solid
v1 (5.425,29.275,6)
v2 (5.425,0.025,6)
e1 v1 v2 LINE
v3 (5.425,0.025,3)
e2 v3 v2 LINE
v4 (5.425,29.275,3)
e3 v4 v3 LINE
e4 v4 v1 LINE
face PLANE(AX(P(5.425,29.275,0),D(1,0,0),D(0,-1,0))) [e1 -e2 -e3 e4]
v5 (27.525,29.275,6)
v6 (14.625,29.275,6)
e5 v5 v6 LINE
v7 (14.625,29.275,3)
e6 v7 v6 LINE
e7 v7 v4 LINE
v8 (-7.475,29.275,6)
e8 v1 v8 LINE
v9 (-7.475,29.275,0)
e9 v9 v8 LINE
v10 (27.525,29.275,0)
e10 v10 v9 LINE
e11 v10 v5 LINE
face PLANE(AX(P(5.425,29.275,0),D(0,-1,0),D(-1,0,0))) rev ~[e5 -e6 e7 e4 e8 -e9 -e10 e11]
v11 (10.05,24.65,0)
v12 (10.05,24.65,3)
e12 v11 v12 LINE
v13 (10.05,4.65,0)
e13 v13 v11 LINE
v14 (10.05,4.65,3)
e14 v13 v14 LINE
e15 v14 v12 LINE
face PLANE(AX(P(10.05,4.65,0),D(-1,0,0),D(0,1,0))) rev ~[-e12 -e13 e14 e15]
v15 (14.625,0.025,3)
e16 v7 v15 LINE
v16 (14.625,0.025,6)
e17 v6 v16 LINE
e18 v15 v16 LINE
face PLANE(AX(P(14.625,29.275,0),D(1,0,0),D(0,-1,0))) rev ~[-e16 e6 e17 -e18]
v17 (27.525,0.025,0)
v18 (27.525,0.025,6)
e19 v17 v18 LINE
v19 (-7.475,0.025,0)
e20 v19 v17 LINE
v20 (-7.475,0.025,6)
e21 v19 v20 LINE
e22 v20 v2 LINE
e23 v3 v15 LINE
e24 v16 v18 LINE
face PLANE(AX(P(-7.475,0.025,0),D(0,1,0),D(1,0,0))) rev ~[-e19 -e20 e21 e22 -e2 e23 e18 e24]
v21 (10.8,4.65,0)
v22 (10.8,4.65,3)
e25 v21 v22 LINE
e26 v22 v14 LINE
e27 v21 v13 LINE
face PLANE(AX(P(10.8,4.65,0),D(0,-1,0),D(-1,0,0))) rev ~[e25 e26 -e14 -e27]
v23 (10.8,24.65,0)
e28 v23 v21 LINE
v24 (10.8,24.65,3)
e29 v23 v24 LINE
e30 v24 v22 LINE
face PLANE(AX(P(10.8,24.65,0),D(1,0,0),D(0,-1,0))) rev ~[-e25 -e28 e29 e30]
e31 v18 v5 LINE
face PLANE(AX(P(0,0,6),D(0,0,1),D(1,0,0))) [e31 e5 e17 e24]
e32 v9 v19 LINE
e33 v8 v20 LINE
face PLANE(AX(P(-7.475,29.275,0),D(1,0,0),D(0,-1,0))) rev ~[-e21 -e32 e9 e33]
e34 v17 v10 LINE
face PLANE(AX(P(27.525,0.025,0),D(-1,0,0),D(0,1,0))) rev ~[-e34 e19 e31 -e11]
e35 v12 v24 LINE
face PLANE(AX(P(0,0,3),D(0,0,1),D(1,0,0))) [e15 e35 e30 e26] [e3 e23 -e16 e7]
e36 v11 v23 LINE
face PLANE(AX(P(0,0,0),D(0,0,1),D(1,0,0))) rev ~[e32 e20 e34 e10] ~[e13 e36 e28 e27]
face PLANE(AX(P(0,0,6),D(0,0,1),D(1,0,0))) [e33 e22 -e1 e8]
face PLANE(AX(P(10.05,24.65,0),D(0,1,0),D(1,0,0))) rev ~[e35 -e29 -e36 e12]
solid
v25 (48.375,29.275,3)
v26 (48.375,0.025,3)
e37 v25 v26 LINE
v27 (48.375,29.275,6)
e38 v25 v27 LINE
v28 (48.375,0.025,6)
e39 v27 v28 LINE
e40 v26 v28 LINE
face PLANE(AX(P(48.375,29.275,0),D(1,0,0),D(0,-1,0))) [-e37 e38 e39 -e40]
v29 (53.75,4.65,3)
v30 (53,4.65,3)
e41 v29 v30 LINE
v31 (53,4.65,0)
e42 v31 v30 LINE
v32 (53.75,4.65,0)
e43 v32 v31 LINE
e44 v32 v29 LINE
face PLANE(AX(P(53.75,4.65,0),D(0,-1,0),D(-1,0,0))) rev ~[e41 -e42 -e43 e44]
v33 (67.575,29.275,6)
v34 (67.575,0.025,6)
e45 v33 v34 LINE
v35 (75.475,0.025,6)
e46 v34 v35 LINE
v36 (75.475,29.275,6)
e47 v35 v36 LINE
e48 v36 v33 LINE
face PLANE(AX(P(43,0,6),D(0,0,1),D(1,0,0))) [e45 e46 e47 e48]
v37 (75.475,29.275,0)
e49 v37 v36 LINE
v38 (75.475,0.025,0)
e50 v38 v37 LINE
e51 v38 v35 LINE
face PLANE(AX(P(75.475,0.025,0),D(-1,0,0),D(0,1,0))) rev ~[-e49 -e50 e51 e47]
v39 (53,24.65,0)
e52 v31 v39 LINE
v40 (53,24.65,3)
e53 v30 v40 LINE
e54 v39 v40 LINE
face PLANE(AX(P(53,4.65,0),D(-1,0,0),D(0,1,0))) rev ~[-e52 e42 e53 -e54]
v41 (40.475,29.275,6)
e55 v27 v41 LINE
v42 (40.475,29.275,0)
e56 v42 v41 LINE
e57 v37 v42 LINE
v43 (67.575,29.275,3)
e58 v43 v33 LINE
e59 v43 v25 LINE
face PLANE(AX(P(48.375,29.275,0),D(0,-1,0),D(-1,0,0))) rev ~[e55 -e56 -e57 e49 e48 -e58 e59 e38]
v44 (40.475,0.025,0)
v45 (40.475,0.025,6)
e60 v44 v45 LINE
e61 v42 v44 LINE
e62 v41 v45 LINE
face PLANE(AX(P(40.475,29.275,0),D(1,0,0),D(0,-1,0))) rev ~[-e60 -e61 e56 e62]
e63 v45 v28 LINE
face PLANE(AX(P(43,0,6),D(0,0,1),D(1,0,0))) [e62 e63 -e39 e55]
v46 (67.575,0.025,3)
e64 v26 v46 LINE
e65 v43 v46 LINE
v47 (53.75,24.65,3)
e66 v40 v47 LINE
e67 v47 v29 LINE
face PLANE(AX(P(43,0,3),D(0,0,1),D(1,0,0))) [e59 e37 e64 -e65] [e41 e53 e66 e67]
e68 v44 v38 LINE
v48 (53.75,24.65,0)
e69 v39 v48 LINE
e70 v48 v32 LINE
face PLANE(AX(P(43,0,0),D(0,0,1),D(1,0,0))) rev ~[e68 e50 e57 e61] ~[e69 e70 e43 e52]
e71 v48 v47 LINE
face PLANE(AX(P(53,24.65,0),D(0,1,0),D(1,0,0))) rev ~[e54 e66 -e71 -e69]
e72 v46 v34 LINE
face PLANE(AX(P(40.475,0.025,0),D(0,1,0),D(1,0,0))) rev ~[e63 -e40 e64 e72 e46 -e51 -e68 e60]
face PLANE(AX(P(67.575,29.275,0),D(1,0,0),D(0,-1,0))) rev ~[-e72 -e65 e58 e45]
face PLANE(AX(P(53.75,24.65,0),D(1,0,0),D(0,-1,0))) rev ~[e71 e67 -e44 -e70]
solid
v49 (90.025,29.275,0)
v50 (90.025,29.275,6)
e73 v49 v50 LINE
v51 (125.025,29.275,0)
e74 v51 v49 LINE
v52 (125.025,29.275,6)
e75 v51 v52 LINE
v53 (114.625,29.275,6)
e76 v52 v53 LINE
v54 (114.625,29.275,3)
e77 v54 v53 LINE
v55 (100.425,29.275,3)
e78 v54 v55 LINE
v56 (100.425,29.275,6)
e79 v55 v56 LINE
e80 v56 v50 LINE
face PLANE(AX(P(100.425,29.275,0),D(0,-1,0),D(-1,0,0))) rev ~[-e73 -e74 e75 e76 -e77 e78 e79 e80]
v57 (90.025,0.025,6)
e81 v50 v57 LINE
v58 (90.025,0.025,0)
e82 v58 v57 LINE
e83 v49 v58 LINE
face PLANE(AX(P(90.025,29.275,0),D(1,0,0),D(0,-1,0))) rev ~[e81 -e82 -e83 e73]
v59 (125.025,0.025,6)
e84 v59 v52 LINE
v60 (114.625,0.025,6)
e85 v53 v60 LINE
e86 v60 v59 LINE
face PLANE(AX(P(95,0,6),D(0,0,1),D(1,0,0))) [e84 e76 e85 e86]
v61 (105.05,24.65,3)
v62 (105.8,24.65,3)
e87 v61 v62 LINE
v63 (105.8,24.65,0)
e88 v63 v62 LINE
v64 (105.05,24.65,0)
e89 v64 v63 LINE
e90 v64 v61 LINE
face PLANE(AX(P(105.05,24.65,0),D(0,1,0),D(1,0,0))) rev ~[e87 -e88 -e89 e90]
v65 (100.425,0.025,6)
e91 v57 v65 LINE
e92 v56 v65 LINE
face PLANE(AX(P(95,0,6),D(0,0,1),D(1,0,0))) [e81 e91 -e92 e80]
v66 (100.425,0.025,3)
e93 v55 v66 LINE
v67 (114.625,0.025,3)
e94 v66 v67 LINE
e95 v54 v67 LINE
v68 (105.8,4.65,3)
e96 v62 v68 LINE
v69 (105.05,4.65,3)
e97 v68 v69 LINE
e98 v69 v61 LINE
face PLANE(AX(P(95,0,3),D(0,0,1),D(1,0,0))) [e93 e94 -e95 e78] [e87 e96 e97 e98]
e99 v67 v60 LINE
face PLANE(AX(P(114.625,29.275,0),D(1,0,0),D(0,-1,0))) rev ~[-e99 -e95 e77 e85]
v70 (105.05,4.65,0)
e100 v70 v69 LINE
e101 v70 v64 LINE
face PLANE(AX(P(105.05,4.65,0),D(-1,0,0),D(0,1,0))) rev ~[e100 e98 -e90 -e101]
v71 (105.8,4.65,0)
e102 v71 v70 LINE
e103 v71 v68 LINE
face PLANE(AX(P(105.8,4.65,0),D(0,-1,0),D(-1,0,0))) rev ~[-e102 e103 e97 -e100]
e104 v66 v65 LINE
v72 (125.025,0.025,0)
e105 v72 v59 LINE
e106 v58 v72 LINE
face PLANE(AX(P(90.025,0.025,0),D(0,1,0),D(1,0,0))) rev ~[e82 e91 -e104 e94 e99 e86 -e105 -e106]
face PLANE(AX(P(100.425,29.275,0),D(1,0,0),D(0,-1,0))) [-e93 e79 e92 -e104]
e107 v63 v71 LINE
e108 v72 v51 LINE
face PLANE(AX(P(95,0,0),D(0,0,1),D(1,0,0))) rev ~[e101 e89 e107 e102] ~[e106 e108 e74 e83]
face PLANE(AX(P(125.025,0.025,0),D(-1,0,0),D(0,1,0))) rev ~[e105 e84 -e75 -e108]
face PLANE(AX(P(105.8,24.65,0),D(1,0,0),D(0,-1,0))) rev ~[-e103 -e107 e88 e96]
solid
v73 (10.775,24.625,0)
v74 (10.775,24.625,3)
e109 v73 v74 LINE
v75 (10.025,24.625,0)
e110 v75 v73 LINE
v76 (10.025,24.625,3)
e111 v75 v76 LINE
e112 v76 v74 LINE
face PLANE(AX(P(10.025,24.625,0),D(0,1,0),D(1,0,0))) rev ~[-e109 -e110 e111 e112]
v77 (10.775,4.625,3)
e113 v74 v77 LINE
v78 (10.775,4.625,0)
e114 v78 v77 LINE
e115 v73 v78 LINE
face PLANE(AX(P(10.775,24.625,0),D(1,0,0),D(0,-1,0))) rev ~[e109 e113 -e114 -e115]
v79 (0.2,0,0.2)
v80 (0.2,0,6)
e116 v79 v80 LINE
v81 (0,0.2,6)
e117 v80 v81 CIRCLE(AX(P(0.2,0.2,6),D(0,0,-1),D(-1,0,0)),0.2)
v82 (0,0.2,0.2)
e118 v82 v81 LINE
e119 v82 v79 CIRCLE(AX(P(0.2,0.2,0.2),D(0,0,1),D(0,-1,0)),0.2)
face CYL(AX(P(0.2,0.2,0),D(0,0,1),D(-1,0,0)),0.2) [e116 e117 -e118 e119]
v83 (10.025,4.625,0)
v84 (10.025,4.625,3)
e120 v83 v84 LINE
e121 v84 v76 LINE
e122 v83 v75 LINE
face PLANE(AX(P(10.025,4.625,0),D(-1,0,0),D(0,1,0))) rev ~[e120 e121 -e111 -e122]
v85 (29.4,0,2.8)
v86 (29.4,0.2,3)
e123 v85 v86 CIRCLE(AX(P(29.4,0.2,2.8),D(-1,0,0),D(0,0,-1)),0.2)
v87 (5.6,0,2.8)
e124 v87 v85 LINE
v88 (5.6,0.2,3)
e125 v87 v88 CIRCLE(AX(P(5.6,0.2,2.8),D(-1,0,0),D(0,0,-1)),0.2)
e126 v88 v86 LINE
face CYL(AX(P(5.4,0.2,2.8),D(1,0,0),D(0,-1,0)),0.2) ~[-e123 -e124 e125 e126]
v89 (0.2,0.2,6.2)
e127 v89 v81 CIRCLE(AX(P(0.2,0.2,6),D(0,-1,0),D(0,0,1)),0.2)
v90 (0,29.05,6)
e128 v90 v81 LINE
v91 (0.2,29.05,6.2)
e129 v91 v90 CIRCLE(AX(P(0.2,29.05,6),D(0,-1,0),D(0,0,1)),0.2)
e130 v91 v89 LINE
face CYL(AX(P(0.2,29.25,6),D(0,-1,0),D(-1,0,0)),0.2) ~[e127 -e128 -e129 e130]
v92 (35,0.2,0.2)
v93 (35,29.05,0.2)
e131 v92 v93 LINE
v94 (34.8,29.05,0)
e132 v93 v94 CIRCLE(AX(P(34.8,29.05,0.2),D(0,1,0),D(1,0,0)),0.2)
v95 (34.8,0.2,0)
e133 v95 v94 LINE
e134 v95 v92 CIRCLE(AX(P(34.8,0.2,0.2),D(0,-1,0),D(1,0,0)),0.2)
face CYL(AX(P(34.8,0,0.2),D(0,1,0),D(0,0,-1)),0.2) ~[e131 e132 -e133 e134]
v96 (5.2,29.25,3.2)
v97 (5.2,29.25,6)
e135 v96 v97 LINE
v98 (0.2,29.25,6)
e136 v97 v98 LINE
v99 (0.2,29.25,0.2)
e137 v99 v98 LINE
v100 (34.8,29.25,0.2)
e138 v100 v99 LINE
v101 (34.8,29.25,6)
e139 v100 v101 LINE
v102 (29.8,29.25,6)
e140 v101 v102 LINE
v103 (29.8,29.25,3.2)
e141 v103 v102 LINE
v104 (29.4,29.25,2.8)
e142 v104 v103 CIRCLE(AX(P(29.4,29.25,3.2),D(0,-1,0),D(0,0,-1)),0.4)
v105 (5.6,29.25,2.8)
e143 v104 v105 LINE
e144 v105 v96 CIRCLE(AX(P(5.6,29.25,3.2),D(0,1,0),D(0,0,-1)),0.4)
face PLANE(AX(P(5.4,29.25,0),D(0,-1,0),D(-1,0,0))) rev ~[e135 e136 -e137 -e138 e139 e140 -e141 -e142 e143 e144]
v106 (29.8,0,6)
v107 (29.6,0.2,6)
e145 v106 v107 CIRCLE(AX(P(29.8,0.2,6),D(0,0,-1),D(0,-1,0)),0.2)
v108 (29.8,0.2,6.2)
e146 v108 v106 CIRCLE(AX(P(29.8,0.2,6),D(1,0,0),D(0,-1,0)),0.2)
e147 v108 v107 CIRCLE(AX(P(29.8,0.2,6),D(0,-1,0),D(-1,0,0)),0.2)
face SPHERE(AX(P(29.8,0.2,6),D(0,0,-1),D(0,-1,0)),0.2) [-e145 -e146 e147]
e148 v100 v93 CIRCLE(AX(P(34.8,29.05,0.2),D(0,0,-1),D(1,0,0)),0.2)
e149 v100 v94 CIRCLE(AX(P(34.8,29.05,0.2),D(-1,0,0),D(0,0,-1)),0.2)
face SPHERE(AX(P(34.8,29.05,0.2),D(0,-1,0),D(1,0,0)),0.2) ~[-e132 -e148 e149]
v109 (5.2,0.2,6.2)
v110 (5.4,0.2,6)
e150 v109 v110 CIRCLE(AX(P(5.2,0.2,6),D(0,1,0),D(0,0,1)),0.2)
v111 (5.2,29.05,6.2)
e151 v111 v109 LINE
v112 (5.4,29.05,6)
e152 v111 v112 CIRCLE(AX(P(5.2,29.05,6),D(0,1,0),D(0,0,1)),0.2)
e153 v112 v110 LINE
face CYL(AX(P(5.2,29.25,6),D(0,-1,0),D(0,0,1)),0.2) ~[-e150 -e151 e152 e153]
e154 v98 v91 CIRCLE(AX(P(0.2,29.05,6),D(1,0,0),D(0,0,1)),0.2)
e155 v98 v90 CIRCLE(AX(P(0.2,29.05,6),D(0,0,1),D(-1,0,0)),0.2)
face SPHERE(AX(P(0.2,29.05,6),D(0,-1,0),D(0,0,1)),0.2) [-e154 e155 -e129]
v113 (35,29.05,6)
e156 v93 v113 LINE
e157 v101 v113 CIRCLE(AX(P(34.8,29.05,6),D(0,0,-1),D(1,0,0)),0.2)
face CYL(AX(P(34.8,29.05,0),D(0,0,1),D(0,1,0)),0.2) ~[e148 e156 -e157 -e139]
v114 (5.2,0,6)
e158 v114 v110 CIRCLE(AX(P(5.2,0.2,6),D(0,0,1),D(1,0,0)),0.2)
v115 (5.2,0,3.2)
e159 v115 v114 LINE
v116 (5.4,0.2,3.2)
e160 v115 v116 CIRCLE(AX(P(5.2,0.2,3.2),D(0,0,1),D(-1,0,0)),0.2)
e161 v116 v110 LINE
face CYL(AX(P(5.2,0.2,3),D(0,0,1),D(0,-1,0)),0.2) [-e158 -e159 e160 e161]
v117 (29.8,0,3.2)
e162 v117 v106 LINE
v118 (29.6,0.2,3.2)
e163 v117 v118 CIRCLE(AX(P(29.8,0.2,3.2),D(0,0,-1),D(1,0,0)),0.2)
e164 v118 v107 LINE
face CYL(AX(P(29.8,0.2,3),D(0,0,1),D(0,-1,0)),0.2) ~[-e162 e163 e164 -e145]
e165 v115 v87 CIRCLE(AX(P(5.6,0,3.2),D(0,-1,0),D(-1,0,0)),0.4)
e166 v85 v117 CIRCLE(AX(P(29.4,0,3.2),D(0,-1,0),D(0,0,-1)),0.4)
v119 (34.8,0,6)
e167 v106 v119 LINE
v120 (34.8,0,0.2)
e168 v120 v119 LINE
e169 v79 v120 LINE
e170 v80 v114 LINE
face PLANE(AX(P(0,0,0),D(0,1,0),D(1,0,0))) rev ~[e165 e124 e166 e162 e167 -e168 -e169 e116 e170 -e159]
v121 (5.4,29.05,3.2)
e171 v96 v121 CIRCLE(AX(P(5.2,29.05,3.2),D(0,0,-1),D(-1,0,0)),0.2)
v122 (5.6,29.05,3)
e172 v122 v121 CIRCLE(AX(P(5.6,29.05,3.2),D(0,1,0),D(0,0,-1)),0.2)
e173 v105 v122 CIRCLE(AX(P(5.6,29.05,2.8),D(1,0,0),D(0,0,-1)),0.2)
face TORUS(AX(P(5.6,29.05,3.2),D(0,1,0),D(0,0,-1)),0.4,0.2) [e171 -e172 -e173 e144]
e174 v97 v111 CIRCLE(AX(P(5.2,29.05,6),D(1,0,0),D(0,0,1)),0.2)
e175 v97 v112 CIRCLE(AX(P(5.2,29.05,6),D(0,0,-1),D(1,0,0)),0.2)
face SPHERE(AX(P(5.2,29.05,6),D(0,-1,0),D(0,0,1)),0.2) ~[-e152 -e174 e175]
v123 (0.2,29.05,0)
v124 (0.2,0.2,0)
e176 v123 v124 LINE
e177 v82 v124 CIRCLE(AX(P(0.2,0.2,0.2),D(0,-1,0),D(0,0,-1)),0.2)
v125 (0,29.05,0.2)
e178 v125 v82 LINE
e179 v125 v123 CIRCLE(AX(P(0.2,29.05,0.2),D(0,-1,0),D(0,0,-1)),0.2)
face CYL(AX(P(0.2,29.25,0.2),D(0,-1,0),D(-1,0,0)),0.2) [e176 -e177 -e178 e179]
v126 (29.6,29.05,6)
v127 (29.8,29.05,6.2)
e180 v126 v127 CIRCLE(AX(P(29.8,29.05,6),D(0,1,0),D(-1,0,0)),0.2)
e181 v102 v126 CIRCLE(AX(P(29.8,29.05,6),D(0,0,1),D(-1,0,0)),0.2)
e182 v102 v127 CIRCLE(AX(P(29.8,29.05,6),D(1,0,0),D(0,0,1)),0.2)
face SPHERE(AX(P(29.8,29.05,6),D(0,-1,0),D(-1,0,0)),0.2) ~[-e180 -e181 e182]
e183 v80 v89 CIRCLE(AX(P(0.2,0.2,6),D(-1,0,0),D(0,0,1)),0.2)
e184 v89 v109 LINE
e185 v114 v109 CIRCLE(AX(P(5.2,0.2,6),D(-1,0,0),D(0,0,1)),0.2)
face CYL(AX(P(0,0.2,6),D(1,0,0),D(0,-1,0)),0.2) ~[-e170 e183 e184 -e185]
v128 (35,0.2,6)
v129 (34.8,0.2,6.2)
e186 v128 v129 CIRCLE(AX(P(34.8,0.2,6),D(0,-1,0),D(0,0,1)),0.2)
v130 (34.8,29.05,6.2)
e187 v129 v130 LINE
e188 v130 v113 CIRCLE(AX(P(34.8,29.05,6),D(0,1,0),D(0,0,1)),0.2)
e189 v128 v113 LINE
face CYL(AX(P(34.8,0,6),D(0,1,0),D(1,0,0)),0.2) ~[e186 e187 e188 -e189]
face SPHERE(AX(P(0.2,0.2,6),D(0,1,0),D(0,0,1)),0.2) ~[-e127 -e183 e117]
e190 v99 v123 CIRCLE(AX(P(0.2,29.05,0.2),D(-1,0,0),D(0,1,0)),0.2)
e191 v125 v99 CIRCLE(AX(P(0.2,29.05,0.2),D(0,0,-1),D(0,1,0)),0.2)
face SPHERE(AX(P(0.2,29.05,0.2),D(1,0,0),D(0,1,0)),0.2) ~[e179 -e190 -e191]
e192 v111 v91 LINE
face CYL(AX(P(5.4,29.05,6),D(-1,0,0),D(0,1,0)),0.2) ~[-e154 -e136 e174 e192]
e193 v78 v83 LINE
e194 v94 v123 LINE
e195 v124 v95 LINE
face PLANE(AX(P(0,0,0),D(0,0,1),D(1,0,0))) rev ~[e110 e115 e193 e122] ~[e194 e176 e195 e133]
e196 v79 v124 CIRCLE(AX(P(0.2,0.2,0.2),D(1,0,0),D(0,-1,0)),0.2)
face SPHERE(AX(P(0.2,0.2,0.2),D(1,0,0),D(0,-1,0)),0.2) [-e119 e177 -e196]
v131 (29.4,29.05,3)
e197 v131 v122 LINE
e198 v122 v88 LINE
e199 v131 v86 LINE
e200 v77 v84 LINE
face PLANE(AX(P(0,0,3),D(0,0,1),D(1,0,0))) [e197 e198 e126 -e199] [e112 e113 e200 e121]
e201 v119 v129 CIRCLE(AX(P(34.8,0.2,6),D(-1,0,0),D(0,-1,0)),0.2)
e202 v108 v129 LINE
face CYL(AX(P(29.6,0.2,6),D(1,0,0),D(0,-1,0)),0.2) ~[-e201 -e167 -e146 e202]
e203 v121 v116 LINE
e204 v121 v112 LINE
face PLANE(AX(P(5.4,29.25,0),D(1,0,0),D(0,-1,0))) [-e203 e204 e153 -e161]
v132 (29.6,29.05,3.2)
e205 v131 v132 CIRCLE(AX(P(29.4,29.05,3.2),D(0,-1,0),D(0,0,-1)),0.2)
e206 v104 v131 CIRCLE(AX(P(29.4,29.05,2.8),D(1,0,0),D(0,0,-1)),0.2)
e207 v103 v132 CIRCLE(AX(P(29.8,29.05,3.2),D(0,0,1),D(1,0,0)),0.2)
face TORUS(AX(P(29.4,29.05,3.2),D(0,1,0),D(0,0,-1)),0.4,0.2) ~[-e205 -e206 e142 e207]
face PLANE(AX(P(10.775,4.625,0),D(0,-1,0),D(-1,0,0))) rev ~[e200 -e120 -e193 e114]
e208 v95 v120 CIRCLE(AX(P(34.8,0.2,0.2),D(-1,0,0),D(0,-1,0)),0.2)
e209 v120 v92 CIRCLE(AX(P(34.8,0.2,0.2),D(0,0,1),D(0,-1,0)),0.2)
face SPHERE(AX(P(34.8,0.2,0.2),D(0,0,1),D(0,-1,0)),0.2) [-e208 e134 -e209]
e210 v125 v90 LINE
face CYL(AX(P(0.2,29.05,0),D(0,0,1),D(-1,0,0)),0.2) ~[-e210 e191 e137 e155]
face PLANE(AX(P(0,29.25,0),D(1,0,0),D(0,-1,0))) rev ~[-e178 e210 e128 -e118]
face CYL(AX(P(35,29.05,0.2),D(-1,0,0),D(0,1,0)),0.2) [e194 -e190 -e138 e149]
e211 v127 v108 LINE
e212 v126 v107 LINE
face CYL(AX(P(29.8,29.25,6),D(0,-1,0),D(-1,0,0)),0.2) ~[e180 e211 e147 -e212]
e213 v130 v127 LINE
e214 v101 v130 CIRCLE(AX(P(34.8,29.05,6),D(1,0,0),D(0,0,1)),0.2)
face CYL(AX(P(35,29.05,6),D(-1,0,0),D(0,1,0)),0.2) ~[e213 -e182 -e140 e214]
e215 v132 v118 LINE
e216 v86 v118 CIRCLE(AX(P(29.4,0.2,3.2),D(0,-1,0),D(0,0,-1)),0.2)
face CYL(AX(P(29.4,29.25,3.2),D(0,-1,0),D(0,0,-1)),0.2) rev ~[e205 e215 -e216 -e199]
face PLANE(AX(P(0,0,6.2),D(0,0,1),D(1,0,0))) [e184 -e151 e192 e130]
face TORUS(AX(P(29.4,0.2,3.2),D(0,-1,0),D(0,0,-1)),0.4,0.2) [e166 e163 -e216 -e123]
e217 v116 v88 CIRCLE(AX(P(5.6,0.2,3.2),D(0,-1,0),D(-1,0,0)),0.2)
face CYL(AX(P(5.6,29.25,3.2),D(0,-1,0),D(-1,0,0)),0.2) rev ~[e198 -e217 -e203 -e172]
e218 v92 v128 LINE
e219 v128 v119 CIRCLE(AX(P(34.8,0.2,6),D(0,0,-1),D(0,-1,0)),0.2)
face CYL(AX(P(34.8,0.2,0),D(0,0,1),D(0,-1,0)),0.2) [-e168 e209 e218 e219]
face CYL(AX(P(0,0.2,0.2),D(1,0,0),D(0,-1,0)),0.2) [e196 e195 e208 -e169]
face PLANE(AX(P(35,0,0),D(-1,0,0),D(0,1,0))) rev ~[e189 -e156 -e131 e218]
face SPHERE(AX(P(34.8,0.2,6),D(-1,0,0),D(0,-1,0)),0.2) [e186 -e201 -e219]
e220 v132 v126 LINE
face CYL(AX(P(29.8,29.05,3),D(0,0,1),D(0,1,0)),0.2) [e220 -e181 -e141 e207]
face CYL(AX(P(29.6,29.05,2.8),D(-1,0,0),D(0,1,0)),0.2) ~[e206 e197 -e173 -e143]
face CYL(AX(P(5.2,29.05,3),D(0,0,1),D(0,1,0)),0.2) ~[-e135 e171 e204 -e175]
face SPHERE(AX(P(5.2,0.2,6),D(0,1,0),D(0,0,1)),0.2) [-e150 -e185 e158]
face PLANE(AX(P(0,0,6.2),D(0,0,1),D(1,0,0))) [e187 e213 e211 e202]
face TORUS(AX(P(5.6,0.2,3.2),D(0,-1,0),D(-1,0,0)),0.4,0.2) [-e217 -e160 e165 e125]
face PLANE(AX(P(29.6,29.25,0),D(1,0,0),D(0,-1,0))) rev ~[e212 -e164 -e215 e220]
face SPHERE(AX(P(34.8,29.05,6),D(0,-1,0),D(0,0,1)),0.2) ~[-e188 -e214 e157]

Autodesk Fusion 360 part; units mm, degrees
sketch "24mm_guide" plane through (0, 0, 0) normal (0, 0, 1) x (1, 0, 0)
  line L0 (0, 0) -> (35, 0)
  line L1 (35, 0) -> (35, 29.25)
  line L2 (35, 29.25) -> (0, 29.25)
  line L3 (0, 29.25) -> (0, 0)
  line L4 (5.4, 29.25) -> (5.4, 0)
  line L5 (29.6, 29.25) -> (29.6, 0)
  line L6 (10.025, 24.625) -> (10.775, 24.625)
  line L7 (10.775, 24.625) -> (10.775, 4.625)
  line L8 (10.775, 4.625) -> (10.025, 4.625)
  line L9 (10.025, 4.625) -> (10.025, 24.625)
  dimension "d1" = 24.2
  dimension "d11" = 0.75
  dimension "d12" = 20
  dimension "d13" = 4.625
  dimension "d15" = 4.625
  dimension "d22" = 4.625
  dimension "d32" = 35
  dimension "d34" = 5.4
  dimension "d35" = 5.4
extrude "Extrude1" add sketch "24mm_guide" along normal blind 6.2 contours L0 L2 L3 L4 | L0 L1 L2 L5 makes body 1 at (0, 9.75, 4.1333) makes body 2 at (29.6, 9.75, 4.1333)
extrude "Extrude2" add sketch "24mm_guide" along normal blind 3 contours L0 L2 L4 L5 bodies 1 2
fillet "Fillet1" radius 0.2 24 edges at (5.4, 14.625, 6.2) (0, 14.625, 6.2) (2.7, 0, 6.2) (2.7, 29.25, 6.2) (5.4, 14.625, 3) (5.4, 0, 4.6) (17.5, 0, 3) (29.6, 0, 4.6) (32.3, 0, 6.2) (35, 0, 3.1) (17.5, 0, 0) (0, 0, 3.1) (17.5, 29.25, 3) (5.4, 29.25, 4.6) (35, 14.625, 6.2) (29.6, 14.625, 6.2) (35, 14.625, 0) (29.6, 29.25, 4.6) (32.3, 29.25, 6.2) (35, 29.25, 3.1) (17.5, 29.25, 0) (0, 29.25, 3.1) (29.6, 14.625, 3) (0, 14.625, 0) on bodies 1
copy_body "Body->Comp1" bodies 1 removing the originals makes body 3 in component "24mm_guide"
sketch "19mm_guide" plane through (0, 0, 0) normal (0, 0, 1) x (1, 0, 0)
  line L0 (-2.525, 0.025) -> (32.475, 0.025)
  line L1 (24.575, 29.275) -> (24.575, 0)
  line L2 (32.475, 0.025) -> (32.475, 29.275)
  line L3 (-2.525, 29.275) -> (-2.525, 0.025)
  line L4 (10, 4.65) -> (10, 24.65)
  line L5 (32.475, 29.275) -> (-2.525, 29.275)
  line L6 (10, 24.65) -> (10.75, 24.65)
  line L7 (5.375, 29.275) -> (5.375, 0)
  line L8 (10.75, 24.65) -> (10.75, 4.65)
  line L9 (10.75, 4.65) -> (10, 4.65)
  point P0 (-2.525, 0.025)
  dimension "d36" = 19.2
  dimension "d37" = 0.75
  dimension "d38" = 20
  dimension "d39" = 4.625
  dimension "d40" = 4.625
  dimension "d41" = 4.625
  dimension "d42" = 35
  dimension "d43" = 7.9
extrude "Extrude3" add sketch "19mm_guide" along normal blind 6 separate body contours L0 L3 L5 L7 | L0 L1 L2 L5 makes body 4 at (0.1083, 19.525, 0) makes body 5 at (27.2083, 19.525, 0)
extrude "Extrude4" add sketch "19mm_guide" along normal blind 3 contours L0 L1 L5 L7 bodies 4 5
copy_body "Body->Comp2" bodies 4 removing the originals makes body 6 in component "19mm_guide"
sketch "14mm_guide" plane through (0, 0, 0) normal (0, 0, 1) x (1, 0, 0)
  line L0 (30.025, 29.275) -> (-4.975, 29.275)
  line L1 (10.8, 24.65) -> (10.8, 4.65)
  line L2 (30.025, 0.025) -> (30.025, 29.275)
  line L3 (10.05, 4.65) -> (10.05, 24.65)
  line L4 (10.8, 4.65) -> (10.05, 4.65)
  line L5 (19.625, 29.275) -> (19.625, 0)
  line L6 (5.425, 29.275) -> (5.425, 0)
  line L7 (-4.975, 0.025) -> (30.025, 0.025)
  line L8 (10.05, 24.65) -> (10.8, 24.65)
  line L9 (-4.975, 29.275) -> (-4.975, 0.025)
  point P0 (-4.975, 0.025)
  dimension "d49" = 14.2
  dimension "d50" = 0.75
  dimension "d51" = 20
  dimension "d52" = 4.625
  dimension "d53" = 4.625
  dimension "d54" = 4.625
  dimension "d55" = 35
  dimension "d56" = 10.4
extrude "Extrude5" add sketch "14mm_guide" along normal blind 6 separate body contours L0 L2 L5 L7 | L0 L6 L7 L9 makes body 7 at (-1.5083, 19.525, 0) makes body 8 at (23.0917, 19.525, 0)
extrude "Extrude6" add sketch "14mm_guide" along normal blind 3 contours L0 L5 L6 L7 bodies 7 8
copy_body "Body->Comp3" bodies 7 removing the originals makes body 9 in component "14mm_guide"
sketch "9mm_guide" plane through (0, 0, 0) normal (0, 0, 1) x (1, 0, 0)
  line L0 (14.625, 29.275) -> (14.625, 0)
  line L1 (-7.475, 0.025) -> (27.525, 0.025)
  line L2 (10.8, 24.65) -> (10.8, 4.65)
  line L3 (10.8, 4.65) -> (10.05, 4.65)
  line L4 (27.525, 0.025) -> (27.525, 29.275)
  line L5 (27.525, 29.275) -> (-7.475, 29.275)
  line L6 (10.05, 24.65) -> (10.8, 24.65)
  line L7 (5.425, 29.275) -> (5.425, 0)
  line L8 (10.05, 4.65) -> (10.05, 24.65)
  line L9 (-7.475, 29.275) -> (-7.475, 0.025)
  point P0 (-7.475, 0.025)
  dimension "d63" = 9.2
  dimension "d64" = 0.75
  dimension "d65" = 20
  dimension "d66" = 4.625
  dimension "d67" = 4.625
  dimension "d68" = 4.625
  dimension "d69" = 35
  dimension "d70" = 12.9
extrude "Extrude7" add sketch "9mm_guide" along normal blind 6 separate body contours L0 L1 L4 L5 | L1 L5 L7 L9 makes body 10 at (-3.175, 19.525, 0) makes body 11 at (18.925, 19.525, 0)
extrude "Extrude8" add sketch "9mm_guide" along normal blind 3 contours L0 L1 L5 L7 bodies 10 11
copy_body "Body->Comp4" bodies 10 removing the originals makes body 12 in component "9mm_guide"
component "24mm_guide" placed x (1, 0, 0) y (0, 1, 0) z (0, 0, 1) at (0, 0, 0)
component "19mm_guide" placed x (1, 0, 0) y (0, 1, 0) z (0, 0, 1) at (43, 0, 0)
component "14mm_guide" placed x (1, 0, 0) y (0, 1, 0) z (0, 0, 1) at (95, 0, 0)
component "9mm_guide" placed x (1, 0, 0) y (0, 1, 0) z (0, 0, 1) at (0, 0, 0)
equation "d1 = tape_24 + tolerance"
equation "tape_24 = 24 mm"
equation "tolerance = 0.2 mm"
equation "tape_thickness = 3 mm"
equation "bumpers = 5 mm"
equation "roof_thickness = 3 mm"
equation "slot_width = 0.55 mm"
equation "slot_lenght = 20 mm"
equation "d11 = slot_width + tolerance"
equation "d12 = slot_lenght"
equation "d13 = strip_width - ( ( slot_width + tolerance ) / 2 )"
equation "strip_width = 5 mm"
equation "d15 = d13"
equation "d16 = roof_thickness + tape_thickness + tolerance"
equation "d18 = roof_thickness"
equation "d22 = d15"
equation "d32 = body_width"
equation "body_width = 35 mm"
equation "d34 = ( body_width - ( tape_24 + tolerance ) ) / 2"
equation "d36 = tape_19mm + tolerance"
equation "d37 = slot_width + tolerance"
equation "d38 = slot_lenght"
equation "d39 = strip_width - ( ( slot_width + tolerance ) / 2 )"
equation "d40 = d13"
equation "d41 = d15"
equation "d42 = body_width"
equation "d43 = ( body_width - ( tape_19mm + tolerance ) ) / 2"
equation "tape_19mm = 19 mm"
equation "d45 = roof_thickness + tape_thickness"
equation "d47 = roof_thickness"
equation "d49 = tape_14 + tolerance"
equation "d50 = slot_width + tolerance"
equation "d51 = slot_lenght"
equation "d52 = strip_width - ( ( slot_width + tolerance ) / 2 )"
equation "d53 = d13"
equation "d54 = d15"
equation "d55 = body_width"
equation "d56 = ( body_width - ( tape_14 + tolerance ) ) / 2"
equation "tape_14 = 14 mm"
equation "d58 = roof_thickness + tape_thickness"
equation "d60 = roof_thickness"
equation "tape_9 = 9 mm"
equation "d63 = tape_9 + tolerance"
equation "d64 = slot_width + tolerance"
equation "d65 = slot_lenght"
equation "d66 = strip_width - ( ( slot_width + tolerance ) / 2 )"
equation "d67 = d13"
equation "d68 = d15"
equation "d69 = body_width"
equation "d70 = ( body_width - ( tape_9 + tolerance ) ) / 2"
equation "d71 = roof_thickness + tape_thickness"
equation "d73 = roof_thickness"
